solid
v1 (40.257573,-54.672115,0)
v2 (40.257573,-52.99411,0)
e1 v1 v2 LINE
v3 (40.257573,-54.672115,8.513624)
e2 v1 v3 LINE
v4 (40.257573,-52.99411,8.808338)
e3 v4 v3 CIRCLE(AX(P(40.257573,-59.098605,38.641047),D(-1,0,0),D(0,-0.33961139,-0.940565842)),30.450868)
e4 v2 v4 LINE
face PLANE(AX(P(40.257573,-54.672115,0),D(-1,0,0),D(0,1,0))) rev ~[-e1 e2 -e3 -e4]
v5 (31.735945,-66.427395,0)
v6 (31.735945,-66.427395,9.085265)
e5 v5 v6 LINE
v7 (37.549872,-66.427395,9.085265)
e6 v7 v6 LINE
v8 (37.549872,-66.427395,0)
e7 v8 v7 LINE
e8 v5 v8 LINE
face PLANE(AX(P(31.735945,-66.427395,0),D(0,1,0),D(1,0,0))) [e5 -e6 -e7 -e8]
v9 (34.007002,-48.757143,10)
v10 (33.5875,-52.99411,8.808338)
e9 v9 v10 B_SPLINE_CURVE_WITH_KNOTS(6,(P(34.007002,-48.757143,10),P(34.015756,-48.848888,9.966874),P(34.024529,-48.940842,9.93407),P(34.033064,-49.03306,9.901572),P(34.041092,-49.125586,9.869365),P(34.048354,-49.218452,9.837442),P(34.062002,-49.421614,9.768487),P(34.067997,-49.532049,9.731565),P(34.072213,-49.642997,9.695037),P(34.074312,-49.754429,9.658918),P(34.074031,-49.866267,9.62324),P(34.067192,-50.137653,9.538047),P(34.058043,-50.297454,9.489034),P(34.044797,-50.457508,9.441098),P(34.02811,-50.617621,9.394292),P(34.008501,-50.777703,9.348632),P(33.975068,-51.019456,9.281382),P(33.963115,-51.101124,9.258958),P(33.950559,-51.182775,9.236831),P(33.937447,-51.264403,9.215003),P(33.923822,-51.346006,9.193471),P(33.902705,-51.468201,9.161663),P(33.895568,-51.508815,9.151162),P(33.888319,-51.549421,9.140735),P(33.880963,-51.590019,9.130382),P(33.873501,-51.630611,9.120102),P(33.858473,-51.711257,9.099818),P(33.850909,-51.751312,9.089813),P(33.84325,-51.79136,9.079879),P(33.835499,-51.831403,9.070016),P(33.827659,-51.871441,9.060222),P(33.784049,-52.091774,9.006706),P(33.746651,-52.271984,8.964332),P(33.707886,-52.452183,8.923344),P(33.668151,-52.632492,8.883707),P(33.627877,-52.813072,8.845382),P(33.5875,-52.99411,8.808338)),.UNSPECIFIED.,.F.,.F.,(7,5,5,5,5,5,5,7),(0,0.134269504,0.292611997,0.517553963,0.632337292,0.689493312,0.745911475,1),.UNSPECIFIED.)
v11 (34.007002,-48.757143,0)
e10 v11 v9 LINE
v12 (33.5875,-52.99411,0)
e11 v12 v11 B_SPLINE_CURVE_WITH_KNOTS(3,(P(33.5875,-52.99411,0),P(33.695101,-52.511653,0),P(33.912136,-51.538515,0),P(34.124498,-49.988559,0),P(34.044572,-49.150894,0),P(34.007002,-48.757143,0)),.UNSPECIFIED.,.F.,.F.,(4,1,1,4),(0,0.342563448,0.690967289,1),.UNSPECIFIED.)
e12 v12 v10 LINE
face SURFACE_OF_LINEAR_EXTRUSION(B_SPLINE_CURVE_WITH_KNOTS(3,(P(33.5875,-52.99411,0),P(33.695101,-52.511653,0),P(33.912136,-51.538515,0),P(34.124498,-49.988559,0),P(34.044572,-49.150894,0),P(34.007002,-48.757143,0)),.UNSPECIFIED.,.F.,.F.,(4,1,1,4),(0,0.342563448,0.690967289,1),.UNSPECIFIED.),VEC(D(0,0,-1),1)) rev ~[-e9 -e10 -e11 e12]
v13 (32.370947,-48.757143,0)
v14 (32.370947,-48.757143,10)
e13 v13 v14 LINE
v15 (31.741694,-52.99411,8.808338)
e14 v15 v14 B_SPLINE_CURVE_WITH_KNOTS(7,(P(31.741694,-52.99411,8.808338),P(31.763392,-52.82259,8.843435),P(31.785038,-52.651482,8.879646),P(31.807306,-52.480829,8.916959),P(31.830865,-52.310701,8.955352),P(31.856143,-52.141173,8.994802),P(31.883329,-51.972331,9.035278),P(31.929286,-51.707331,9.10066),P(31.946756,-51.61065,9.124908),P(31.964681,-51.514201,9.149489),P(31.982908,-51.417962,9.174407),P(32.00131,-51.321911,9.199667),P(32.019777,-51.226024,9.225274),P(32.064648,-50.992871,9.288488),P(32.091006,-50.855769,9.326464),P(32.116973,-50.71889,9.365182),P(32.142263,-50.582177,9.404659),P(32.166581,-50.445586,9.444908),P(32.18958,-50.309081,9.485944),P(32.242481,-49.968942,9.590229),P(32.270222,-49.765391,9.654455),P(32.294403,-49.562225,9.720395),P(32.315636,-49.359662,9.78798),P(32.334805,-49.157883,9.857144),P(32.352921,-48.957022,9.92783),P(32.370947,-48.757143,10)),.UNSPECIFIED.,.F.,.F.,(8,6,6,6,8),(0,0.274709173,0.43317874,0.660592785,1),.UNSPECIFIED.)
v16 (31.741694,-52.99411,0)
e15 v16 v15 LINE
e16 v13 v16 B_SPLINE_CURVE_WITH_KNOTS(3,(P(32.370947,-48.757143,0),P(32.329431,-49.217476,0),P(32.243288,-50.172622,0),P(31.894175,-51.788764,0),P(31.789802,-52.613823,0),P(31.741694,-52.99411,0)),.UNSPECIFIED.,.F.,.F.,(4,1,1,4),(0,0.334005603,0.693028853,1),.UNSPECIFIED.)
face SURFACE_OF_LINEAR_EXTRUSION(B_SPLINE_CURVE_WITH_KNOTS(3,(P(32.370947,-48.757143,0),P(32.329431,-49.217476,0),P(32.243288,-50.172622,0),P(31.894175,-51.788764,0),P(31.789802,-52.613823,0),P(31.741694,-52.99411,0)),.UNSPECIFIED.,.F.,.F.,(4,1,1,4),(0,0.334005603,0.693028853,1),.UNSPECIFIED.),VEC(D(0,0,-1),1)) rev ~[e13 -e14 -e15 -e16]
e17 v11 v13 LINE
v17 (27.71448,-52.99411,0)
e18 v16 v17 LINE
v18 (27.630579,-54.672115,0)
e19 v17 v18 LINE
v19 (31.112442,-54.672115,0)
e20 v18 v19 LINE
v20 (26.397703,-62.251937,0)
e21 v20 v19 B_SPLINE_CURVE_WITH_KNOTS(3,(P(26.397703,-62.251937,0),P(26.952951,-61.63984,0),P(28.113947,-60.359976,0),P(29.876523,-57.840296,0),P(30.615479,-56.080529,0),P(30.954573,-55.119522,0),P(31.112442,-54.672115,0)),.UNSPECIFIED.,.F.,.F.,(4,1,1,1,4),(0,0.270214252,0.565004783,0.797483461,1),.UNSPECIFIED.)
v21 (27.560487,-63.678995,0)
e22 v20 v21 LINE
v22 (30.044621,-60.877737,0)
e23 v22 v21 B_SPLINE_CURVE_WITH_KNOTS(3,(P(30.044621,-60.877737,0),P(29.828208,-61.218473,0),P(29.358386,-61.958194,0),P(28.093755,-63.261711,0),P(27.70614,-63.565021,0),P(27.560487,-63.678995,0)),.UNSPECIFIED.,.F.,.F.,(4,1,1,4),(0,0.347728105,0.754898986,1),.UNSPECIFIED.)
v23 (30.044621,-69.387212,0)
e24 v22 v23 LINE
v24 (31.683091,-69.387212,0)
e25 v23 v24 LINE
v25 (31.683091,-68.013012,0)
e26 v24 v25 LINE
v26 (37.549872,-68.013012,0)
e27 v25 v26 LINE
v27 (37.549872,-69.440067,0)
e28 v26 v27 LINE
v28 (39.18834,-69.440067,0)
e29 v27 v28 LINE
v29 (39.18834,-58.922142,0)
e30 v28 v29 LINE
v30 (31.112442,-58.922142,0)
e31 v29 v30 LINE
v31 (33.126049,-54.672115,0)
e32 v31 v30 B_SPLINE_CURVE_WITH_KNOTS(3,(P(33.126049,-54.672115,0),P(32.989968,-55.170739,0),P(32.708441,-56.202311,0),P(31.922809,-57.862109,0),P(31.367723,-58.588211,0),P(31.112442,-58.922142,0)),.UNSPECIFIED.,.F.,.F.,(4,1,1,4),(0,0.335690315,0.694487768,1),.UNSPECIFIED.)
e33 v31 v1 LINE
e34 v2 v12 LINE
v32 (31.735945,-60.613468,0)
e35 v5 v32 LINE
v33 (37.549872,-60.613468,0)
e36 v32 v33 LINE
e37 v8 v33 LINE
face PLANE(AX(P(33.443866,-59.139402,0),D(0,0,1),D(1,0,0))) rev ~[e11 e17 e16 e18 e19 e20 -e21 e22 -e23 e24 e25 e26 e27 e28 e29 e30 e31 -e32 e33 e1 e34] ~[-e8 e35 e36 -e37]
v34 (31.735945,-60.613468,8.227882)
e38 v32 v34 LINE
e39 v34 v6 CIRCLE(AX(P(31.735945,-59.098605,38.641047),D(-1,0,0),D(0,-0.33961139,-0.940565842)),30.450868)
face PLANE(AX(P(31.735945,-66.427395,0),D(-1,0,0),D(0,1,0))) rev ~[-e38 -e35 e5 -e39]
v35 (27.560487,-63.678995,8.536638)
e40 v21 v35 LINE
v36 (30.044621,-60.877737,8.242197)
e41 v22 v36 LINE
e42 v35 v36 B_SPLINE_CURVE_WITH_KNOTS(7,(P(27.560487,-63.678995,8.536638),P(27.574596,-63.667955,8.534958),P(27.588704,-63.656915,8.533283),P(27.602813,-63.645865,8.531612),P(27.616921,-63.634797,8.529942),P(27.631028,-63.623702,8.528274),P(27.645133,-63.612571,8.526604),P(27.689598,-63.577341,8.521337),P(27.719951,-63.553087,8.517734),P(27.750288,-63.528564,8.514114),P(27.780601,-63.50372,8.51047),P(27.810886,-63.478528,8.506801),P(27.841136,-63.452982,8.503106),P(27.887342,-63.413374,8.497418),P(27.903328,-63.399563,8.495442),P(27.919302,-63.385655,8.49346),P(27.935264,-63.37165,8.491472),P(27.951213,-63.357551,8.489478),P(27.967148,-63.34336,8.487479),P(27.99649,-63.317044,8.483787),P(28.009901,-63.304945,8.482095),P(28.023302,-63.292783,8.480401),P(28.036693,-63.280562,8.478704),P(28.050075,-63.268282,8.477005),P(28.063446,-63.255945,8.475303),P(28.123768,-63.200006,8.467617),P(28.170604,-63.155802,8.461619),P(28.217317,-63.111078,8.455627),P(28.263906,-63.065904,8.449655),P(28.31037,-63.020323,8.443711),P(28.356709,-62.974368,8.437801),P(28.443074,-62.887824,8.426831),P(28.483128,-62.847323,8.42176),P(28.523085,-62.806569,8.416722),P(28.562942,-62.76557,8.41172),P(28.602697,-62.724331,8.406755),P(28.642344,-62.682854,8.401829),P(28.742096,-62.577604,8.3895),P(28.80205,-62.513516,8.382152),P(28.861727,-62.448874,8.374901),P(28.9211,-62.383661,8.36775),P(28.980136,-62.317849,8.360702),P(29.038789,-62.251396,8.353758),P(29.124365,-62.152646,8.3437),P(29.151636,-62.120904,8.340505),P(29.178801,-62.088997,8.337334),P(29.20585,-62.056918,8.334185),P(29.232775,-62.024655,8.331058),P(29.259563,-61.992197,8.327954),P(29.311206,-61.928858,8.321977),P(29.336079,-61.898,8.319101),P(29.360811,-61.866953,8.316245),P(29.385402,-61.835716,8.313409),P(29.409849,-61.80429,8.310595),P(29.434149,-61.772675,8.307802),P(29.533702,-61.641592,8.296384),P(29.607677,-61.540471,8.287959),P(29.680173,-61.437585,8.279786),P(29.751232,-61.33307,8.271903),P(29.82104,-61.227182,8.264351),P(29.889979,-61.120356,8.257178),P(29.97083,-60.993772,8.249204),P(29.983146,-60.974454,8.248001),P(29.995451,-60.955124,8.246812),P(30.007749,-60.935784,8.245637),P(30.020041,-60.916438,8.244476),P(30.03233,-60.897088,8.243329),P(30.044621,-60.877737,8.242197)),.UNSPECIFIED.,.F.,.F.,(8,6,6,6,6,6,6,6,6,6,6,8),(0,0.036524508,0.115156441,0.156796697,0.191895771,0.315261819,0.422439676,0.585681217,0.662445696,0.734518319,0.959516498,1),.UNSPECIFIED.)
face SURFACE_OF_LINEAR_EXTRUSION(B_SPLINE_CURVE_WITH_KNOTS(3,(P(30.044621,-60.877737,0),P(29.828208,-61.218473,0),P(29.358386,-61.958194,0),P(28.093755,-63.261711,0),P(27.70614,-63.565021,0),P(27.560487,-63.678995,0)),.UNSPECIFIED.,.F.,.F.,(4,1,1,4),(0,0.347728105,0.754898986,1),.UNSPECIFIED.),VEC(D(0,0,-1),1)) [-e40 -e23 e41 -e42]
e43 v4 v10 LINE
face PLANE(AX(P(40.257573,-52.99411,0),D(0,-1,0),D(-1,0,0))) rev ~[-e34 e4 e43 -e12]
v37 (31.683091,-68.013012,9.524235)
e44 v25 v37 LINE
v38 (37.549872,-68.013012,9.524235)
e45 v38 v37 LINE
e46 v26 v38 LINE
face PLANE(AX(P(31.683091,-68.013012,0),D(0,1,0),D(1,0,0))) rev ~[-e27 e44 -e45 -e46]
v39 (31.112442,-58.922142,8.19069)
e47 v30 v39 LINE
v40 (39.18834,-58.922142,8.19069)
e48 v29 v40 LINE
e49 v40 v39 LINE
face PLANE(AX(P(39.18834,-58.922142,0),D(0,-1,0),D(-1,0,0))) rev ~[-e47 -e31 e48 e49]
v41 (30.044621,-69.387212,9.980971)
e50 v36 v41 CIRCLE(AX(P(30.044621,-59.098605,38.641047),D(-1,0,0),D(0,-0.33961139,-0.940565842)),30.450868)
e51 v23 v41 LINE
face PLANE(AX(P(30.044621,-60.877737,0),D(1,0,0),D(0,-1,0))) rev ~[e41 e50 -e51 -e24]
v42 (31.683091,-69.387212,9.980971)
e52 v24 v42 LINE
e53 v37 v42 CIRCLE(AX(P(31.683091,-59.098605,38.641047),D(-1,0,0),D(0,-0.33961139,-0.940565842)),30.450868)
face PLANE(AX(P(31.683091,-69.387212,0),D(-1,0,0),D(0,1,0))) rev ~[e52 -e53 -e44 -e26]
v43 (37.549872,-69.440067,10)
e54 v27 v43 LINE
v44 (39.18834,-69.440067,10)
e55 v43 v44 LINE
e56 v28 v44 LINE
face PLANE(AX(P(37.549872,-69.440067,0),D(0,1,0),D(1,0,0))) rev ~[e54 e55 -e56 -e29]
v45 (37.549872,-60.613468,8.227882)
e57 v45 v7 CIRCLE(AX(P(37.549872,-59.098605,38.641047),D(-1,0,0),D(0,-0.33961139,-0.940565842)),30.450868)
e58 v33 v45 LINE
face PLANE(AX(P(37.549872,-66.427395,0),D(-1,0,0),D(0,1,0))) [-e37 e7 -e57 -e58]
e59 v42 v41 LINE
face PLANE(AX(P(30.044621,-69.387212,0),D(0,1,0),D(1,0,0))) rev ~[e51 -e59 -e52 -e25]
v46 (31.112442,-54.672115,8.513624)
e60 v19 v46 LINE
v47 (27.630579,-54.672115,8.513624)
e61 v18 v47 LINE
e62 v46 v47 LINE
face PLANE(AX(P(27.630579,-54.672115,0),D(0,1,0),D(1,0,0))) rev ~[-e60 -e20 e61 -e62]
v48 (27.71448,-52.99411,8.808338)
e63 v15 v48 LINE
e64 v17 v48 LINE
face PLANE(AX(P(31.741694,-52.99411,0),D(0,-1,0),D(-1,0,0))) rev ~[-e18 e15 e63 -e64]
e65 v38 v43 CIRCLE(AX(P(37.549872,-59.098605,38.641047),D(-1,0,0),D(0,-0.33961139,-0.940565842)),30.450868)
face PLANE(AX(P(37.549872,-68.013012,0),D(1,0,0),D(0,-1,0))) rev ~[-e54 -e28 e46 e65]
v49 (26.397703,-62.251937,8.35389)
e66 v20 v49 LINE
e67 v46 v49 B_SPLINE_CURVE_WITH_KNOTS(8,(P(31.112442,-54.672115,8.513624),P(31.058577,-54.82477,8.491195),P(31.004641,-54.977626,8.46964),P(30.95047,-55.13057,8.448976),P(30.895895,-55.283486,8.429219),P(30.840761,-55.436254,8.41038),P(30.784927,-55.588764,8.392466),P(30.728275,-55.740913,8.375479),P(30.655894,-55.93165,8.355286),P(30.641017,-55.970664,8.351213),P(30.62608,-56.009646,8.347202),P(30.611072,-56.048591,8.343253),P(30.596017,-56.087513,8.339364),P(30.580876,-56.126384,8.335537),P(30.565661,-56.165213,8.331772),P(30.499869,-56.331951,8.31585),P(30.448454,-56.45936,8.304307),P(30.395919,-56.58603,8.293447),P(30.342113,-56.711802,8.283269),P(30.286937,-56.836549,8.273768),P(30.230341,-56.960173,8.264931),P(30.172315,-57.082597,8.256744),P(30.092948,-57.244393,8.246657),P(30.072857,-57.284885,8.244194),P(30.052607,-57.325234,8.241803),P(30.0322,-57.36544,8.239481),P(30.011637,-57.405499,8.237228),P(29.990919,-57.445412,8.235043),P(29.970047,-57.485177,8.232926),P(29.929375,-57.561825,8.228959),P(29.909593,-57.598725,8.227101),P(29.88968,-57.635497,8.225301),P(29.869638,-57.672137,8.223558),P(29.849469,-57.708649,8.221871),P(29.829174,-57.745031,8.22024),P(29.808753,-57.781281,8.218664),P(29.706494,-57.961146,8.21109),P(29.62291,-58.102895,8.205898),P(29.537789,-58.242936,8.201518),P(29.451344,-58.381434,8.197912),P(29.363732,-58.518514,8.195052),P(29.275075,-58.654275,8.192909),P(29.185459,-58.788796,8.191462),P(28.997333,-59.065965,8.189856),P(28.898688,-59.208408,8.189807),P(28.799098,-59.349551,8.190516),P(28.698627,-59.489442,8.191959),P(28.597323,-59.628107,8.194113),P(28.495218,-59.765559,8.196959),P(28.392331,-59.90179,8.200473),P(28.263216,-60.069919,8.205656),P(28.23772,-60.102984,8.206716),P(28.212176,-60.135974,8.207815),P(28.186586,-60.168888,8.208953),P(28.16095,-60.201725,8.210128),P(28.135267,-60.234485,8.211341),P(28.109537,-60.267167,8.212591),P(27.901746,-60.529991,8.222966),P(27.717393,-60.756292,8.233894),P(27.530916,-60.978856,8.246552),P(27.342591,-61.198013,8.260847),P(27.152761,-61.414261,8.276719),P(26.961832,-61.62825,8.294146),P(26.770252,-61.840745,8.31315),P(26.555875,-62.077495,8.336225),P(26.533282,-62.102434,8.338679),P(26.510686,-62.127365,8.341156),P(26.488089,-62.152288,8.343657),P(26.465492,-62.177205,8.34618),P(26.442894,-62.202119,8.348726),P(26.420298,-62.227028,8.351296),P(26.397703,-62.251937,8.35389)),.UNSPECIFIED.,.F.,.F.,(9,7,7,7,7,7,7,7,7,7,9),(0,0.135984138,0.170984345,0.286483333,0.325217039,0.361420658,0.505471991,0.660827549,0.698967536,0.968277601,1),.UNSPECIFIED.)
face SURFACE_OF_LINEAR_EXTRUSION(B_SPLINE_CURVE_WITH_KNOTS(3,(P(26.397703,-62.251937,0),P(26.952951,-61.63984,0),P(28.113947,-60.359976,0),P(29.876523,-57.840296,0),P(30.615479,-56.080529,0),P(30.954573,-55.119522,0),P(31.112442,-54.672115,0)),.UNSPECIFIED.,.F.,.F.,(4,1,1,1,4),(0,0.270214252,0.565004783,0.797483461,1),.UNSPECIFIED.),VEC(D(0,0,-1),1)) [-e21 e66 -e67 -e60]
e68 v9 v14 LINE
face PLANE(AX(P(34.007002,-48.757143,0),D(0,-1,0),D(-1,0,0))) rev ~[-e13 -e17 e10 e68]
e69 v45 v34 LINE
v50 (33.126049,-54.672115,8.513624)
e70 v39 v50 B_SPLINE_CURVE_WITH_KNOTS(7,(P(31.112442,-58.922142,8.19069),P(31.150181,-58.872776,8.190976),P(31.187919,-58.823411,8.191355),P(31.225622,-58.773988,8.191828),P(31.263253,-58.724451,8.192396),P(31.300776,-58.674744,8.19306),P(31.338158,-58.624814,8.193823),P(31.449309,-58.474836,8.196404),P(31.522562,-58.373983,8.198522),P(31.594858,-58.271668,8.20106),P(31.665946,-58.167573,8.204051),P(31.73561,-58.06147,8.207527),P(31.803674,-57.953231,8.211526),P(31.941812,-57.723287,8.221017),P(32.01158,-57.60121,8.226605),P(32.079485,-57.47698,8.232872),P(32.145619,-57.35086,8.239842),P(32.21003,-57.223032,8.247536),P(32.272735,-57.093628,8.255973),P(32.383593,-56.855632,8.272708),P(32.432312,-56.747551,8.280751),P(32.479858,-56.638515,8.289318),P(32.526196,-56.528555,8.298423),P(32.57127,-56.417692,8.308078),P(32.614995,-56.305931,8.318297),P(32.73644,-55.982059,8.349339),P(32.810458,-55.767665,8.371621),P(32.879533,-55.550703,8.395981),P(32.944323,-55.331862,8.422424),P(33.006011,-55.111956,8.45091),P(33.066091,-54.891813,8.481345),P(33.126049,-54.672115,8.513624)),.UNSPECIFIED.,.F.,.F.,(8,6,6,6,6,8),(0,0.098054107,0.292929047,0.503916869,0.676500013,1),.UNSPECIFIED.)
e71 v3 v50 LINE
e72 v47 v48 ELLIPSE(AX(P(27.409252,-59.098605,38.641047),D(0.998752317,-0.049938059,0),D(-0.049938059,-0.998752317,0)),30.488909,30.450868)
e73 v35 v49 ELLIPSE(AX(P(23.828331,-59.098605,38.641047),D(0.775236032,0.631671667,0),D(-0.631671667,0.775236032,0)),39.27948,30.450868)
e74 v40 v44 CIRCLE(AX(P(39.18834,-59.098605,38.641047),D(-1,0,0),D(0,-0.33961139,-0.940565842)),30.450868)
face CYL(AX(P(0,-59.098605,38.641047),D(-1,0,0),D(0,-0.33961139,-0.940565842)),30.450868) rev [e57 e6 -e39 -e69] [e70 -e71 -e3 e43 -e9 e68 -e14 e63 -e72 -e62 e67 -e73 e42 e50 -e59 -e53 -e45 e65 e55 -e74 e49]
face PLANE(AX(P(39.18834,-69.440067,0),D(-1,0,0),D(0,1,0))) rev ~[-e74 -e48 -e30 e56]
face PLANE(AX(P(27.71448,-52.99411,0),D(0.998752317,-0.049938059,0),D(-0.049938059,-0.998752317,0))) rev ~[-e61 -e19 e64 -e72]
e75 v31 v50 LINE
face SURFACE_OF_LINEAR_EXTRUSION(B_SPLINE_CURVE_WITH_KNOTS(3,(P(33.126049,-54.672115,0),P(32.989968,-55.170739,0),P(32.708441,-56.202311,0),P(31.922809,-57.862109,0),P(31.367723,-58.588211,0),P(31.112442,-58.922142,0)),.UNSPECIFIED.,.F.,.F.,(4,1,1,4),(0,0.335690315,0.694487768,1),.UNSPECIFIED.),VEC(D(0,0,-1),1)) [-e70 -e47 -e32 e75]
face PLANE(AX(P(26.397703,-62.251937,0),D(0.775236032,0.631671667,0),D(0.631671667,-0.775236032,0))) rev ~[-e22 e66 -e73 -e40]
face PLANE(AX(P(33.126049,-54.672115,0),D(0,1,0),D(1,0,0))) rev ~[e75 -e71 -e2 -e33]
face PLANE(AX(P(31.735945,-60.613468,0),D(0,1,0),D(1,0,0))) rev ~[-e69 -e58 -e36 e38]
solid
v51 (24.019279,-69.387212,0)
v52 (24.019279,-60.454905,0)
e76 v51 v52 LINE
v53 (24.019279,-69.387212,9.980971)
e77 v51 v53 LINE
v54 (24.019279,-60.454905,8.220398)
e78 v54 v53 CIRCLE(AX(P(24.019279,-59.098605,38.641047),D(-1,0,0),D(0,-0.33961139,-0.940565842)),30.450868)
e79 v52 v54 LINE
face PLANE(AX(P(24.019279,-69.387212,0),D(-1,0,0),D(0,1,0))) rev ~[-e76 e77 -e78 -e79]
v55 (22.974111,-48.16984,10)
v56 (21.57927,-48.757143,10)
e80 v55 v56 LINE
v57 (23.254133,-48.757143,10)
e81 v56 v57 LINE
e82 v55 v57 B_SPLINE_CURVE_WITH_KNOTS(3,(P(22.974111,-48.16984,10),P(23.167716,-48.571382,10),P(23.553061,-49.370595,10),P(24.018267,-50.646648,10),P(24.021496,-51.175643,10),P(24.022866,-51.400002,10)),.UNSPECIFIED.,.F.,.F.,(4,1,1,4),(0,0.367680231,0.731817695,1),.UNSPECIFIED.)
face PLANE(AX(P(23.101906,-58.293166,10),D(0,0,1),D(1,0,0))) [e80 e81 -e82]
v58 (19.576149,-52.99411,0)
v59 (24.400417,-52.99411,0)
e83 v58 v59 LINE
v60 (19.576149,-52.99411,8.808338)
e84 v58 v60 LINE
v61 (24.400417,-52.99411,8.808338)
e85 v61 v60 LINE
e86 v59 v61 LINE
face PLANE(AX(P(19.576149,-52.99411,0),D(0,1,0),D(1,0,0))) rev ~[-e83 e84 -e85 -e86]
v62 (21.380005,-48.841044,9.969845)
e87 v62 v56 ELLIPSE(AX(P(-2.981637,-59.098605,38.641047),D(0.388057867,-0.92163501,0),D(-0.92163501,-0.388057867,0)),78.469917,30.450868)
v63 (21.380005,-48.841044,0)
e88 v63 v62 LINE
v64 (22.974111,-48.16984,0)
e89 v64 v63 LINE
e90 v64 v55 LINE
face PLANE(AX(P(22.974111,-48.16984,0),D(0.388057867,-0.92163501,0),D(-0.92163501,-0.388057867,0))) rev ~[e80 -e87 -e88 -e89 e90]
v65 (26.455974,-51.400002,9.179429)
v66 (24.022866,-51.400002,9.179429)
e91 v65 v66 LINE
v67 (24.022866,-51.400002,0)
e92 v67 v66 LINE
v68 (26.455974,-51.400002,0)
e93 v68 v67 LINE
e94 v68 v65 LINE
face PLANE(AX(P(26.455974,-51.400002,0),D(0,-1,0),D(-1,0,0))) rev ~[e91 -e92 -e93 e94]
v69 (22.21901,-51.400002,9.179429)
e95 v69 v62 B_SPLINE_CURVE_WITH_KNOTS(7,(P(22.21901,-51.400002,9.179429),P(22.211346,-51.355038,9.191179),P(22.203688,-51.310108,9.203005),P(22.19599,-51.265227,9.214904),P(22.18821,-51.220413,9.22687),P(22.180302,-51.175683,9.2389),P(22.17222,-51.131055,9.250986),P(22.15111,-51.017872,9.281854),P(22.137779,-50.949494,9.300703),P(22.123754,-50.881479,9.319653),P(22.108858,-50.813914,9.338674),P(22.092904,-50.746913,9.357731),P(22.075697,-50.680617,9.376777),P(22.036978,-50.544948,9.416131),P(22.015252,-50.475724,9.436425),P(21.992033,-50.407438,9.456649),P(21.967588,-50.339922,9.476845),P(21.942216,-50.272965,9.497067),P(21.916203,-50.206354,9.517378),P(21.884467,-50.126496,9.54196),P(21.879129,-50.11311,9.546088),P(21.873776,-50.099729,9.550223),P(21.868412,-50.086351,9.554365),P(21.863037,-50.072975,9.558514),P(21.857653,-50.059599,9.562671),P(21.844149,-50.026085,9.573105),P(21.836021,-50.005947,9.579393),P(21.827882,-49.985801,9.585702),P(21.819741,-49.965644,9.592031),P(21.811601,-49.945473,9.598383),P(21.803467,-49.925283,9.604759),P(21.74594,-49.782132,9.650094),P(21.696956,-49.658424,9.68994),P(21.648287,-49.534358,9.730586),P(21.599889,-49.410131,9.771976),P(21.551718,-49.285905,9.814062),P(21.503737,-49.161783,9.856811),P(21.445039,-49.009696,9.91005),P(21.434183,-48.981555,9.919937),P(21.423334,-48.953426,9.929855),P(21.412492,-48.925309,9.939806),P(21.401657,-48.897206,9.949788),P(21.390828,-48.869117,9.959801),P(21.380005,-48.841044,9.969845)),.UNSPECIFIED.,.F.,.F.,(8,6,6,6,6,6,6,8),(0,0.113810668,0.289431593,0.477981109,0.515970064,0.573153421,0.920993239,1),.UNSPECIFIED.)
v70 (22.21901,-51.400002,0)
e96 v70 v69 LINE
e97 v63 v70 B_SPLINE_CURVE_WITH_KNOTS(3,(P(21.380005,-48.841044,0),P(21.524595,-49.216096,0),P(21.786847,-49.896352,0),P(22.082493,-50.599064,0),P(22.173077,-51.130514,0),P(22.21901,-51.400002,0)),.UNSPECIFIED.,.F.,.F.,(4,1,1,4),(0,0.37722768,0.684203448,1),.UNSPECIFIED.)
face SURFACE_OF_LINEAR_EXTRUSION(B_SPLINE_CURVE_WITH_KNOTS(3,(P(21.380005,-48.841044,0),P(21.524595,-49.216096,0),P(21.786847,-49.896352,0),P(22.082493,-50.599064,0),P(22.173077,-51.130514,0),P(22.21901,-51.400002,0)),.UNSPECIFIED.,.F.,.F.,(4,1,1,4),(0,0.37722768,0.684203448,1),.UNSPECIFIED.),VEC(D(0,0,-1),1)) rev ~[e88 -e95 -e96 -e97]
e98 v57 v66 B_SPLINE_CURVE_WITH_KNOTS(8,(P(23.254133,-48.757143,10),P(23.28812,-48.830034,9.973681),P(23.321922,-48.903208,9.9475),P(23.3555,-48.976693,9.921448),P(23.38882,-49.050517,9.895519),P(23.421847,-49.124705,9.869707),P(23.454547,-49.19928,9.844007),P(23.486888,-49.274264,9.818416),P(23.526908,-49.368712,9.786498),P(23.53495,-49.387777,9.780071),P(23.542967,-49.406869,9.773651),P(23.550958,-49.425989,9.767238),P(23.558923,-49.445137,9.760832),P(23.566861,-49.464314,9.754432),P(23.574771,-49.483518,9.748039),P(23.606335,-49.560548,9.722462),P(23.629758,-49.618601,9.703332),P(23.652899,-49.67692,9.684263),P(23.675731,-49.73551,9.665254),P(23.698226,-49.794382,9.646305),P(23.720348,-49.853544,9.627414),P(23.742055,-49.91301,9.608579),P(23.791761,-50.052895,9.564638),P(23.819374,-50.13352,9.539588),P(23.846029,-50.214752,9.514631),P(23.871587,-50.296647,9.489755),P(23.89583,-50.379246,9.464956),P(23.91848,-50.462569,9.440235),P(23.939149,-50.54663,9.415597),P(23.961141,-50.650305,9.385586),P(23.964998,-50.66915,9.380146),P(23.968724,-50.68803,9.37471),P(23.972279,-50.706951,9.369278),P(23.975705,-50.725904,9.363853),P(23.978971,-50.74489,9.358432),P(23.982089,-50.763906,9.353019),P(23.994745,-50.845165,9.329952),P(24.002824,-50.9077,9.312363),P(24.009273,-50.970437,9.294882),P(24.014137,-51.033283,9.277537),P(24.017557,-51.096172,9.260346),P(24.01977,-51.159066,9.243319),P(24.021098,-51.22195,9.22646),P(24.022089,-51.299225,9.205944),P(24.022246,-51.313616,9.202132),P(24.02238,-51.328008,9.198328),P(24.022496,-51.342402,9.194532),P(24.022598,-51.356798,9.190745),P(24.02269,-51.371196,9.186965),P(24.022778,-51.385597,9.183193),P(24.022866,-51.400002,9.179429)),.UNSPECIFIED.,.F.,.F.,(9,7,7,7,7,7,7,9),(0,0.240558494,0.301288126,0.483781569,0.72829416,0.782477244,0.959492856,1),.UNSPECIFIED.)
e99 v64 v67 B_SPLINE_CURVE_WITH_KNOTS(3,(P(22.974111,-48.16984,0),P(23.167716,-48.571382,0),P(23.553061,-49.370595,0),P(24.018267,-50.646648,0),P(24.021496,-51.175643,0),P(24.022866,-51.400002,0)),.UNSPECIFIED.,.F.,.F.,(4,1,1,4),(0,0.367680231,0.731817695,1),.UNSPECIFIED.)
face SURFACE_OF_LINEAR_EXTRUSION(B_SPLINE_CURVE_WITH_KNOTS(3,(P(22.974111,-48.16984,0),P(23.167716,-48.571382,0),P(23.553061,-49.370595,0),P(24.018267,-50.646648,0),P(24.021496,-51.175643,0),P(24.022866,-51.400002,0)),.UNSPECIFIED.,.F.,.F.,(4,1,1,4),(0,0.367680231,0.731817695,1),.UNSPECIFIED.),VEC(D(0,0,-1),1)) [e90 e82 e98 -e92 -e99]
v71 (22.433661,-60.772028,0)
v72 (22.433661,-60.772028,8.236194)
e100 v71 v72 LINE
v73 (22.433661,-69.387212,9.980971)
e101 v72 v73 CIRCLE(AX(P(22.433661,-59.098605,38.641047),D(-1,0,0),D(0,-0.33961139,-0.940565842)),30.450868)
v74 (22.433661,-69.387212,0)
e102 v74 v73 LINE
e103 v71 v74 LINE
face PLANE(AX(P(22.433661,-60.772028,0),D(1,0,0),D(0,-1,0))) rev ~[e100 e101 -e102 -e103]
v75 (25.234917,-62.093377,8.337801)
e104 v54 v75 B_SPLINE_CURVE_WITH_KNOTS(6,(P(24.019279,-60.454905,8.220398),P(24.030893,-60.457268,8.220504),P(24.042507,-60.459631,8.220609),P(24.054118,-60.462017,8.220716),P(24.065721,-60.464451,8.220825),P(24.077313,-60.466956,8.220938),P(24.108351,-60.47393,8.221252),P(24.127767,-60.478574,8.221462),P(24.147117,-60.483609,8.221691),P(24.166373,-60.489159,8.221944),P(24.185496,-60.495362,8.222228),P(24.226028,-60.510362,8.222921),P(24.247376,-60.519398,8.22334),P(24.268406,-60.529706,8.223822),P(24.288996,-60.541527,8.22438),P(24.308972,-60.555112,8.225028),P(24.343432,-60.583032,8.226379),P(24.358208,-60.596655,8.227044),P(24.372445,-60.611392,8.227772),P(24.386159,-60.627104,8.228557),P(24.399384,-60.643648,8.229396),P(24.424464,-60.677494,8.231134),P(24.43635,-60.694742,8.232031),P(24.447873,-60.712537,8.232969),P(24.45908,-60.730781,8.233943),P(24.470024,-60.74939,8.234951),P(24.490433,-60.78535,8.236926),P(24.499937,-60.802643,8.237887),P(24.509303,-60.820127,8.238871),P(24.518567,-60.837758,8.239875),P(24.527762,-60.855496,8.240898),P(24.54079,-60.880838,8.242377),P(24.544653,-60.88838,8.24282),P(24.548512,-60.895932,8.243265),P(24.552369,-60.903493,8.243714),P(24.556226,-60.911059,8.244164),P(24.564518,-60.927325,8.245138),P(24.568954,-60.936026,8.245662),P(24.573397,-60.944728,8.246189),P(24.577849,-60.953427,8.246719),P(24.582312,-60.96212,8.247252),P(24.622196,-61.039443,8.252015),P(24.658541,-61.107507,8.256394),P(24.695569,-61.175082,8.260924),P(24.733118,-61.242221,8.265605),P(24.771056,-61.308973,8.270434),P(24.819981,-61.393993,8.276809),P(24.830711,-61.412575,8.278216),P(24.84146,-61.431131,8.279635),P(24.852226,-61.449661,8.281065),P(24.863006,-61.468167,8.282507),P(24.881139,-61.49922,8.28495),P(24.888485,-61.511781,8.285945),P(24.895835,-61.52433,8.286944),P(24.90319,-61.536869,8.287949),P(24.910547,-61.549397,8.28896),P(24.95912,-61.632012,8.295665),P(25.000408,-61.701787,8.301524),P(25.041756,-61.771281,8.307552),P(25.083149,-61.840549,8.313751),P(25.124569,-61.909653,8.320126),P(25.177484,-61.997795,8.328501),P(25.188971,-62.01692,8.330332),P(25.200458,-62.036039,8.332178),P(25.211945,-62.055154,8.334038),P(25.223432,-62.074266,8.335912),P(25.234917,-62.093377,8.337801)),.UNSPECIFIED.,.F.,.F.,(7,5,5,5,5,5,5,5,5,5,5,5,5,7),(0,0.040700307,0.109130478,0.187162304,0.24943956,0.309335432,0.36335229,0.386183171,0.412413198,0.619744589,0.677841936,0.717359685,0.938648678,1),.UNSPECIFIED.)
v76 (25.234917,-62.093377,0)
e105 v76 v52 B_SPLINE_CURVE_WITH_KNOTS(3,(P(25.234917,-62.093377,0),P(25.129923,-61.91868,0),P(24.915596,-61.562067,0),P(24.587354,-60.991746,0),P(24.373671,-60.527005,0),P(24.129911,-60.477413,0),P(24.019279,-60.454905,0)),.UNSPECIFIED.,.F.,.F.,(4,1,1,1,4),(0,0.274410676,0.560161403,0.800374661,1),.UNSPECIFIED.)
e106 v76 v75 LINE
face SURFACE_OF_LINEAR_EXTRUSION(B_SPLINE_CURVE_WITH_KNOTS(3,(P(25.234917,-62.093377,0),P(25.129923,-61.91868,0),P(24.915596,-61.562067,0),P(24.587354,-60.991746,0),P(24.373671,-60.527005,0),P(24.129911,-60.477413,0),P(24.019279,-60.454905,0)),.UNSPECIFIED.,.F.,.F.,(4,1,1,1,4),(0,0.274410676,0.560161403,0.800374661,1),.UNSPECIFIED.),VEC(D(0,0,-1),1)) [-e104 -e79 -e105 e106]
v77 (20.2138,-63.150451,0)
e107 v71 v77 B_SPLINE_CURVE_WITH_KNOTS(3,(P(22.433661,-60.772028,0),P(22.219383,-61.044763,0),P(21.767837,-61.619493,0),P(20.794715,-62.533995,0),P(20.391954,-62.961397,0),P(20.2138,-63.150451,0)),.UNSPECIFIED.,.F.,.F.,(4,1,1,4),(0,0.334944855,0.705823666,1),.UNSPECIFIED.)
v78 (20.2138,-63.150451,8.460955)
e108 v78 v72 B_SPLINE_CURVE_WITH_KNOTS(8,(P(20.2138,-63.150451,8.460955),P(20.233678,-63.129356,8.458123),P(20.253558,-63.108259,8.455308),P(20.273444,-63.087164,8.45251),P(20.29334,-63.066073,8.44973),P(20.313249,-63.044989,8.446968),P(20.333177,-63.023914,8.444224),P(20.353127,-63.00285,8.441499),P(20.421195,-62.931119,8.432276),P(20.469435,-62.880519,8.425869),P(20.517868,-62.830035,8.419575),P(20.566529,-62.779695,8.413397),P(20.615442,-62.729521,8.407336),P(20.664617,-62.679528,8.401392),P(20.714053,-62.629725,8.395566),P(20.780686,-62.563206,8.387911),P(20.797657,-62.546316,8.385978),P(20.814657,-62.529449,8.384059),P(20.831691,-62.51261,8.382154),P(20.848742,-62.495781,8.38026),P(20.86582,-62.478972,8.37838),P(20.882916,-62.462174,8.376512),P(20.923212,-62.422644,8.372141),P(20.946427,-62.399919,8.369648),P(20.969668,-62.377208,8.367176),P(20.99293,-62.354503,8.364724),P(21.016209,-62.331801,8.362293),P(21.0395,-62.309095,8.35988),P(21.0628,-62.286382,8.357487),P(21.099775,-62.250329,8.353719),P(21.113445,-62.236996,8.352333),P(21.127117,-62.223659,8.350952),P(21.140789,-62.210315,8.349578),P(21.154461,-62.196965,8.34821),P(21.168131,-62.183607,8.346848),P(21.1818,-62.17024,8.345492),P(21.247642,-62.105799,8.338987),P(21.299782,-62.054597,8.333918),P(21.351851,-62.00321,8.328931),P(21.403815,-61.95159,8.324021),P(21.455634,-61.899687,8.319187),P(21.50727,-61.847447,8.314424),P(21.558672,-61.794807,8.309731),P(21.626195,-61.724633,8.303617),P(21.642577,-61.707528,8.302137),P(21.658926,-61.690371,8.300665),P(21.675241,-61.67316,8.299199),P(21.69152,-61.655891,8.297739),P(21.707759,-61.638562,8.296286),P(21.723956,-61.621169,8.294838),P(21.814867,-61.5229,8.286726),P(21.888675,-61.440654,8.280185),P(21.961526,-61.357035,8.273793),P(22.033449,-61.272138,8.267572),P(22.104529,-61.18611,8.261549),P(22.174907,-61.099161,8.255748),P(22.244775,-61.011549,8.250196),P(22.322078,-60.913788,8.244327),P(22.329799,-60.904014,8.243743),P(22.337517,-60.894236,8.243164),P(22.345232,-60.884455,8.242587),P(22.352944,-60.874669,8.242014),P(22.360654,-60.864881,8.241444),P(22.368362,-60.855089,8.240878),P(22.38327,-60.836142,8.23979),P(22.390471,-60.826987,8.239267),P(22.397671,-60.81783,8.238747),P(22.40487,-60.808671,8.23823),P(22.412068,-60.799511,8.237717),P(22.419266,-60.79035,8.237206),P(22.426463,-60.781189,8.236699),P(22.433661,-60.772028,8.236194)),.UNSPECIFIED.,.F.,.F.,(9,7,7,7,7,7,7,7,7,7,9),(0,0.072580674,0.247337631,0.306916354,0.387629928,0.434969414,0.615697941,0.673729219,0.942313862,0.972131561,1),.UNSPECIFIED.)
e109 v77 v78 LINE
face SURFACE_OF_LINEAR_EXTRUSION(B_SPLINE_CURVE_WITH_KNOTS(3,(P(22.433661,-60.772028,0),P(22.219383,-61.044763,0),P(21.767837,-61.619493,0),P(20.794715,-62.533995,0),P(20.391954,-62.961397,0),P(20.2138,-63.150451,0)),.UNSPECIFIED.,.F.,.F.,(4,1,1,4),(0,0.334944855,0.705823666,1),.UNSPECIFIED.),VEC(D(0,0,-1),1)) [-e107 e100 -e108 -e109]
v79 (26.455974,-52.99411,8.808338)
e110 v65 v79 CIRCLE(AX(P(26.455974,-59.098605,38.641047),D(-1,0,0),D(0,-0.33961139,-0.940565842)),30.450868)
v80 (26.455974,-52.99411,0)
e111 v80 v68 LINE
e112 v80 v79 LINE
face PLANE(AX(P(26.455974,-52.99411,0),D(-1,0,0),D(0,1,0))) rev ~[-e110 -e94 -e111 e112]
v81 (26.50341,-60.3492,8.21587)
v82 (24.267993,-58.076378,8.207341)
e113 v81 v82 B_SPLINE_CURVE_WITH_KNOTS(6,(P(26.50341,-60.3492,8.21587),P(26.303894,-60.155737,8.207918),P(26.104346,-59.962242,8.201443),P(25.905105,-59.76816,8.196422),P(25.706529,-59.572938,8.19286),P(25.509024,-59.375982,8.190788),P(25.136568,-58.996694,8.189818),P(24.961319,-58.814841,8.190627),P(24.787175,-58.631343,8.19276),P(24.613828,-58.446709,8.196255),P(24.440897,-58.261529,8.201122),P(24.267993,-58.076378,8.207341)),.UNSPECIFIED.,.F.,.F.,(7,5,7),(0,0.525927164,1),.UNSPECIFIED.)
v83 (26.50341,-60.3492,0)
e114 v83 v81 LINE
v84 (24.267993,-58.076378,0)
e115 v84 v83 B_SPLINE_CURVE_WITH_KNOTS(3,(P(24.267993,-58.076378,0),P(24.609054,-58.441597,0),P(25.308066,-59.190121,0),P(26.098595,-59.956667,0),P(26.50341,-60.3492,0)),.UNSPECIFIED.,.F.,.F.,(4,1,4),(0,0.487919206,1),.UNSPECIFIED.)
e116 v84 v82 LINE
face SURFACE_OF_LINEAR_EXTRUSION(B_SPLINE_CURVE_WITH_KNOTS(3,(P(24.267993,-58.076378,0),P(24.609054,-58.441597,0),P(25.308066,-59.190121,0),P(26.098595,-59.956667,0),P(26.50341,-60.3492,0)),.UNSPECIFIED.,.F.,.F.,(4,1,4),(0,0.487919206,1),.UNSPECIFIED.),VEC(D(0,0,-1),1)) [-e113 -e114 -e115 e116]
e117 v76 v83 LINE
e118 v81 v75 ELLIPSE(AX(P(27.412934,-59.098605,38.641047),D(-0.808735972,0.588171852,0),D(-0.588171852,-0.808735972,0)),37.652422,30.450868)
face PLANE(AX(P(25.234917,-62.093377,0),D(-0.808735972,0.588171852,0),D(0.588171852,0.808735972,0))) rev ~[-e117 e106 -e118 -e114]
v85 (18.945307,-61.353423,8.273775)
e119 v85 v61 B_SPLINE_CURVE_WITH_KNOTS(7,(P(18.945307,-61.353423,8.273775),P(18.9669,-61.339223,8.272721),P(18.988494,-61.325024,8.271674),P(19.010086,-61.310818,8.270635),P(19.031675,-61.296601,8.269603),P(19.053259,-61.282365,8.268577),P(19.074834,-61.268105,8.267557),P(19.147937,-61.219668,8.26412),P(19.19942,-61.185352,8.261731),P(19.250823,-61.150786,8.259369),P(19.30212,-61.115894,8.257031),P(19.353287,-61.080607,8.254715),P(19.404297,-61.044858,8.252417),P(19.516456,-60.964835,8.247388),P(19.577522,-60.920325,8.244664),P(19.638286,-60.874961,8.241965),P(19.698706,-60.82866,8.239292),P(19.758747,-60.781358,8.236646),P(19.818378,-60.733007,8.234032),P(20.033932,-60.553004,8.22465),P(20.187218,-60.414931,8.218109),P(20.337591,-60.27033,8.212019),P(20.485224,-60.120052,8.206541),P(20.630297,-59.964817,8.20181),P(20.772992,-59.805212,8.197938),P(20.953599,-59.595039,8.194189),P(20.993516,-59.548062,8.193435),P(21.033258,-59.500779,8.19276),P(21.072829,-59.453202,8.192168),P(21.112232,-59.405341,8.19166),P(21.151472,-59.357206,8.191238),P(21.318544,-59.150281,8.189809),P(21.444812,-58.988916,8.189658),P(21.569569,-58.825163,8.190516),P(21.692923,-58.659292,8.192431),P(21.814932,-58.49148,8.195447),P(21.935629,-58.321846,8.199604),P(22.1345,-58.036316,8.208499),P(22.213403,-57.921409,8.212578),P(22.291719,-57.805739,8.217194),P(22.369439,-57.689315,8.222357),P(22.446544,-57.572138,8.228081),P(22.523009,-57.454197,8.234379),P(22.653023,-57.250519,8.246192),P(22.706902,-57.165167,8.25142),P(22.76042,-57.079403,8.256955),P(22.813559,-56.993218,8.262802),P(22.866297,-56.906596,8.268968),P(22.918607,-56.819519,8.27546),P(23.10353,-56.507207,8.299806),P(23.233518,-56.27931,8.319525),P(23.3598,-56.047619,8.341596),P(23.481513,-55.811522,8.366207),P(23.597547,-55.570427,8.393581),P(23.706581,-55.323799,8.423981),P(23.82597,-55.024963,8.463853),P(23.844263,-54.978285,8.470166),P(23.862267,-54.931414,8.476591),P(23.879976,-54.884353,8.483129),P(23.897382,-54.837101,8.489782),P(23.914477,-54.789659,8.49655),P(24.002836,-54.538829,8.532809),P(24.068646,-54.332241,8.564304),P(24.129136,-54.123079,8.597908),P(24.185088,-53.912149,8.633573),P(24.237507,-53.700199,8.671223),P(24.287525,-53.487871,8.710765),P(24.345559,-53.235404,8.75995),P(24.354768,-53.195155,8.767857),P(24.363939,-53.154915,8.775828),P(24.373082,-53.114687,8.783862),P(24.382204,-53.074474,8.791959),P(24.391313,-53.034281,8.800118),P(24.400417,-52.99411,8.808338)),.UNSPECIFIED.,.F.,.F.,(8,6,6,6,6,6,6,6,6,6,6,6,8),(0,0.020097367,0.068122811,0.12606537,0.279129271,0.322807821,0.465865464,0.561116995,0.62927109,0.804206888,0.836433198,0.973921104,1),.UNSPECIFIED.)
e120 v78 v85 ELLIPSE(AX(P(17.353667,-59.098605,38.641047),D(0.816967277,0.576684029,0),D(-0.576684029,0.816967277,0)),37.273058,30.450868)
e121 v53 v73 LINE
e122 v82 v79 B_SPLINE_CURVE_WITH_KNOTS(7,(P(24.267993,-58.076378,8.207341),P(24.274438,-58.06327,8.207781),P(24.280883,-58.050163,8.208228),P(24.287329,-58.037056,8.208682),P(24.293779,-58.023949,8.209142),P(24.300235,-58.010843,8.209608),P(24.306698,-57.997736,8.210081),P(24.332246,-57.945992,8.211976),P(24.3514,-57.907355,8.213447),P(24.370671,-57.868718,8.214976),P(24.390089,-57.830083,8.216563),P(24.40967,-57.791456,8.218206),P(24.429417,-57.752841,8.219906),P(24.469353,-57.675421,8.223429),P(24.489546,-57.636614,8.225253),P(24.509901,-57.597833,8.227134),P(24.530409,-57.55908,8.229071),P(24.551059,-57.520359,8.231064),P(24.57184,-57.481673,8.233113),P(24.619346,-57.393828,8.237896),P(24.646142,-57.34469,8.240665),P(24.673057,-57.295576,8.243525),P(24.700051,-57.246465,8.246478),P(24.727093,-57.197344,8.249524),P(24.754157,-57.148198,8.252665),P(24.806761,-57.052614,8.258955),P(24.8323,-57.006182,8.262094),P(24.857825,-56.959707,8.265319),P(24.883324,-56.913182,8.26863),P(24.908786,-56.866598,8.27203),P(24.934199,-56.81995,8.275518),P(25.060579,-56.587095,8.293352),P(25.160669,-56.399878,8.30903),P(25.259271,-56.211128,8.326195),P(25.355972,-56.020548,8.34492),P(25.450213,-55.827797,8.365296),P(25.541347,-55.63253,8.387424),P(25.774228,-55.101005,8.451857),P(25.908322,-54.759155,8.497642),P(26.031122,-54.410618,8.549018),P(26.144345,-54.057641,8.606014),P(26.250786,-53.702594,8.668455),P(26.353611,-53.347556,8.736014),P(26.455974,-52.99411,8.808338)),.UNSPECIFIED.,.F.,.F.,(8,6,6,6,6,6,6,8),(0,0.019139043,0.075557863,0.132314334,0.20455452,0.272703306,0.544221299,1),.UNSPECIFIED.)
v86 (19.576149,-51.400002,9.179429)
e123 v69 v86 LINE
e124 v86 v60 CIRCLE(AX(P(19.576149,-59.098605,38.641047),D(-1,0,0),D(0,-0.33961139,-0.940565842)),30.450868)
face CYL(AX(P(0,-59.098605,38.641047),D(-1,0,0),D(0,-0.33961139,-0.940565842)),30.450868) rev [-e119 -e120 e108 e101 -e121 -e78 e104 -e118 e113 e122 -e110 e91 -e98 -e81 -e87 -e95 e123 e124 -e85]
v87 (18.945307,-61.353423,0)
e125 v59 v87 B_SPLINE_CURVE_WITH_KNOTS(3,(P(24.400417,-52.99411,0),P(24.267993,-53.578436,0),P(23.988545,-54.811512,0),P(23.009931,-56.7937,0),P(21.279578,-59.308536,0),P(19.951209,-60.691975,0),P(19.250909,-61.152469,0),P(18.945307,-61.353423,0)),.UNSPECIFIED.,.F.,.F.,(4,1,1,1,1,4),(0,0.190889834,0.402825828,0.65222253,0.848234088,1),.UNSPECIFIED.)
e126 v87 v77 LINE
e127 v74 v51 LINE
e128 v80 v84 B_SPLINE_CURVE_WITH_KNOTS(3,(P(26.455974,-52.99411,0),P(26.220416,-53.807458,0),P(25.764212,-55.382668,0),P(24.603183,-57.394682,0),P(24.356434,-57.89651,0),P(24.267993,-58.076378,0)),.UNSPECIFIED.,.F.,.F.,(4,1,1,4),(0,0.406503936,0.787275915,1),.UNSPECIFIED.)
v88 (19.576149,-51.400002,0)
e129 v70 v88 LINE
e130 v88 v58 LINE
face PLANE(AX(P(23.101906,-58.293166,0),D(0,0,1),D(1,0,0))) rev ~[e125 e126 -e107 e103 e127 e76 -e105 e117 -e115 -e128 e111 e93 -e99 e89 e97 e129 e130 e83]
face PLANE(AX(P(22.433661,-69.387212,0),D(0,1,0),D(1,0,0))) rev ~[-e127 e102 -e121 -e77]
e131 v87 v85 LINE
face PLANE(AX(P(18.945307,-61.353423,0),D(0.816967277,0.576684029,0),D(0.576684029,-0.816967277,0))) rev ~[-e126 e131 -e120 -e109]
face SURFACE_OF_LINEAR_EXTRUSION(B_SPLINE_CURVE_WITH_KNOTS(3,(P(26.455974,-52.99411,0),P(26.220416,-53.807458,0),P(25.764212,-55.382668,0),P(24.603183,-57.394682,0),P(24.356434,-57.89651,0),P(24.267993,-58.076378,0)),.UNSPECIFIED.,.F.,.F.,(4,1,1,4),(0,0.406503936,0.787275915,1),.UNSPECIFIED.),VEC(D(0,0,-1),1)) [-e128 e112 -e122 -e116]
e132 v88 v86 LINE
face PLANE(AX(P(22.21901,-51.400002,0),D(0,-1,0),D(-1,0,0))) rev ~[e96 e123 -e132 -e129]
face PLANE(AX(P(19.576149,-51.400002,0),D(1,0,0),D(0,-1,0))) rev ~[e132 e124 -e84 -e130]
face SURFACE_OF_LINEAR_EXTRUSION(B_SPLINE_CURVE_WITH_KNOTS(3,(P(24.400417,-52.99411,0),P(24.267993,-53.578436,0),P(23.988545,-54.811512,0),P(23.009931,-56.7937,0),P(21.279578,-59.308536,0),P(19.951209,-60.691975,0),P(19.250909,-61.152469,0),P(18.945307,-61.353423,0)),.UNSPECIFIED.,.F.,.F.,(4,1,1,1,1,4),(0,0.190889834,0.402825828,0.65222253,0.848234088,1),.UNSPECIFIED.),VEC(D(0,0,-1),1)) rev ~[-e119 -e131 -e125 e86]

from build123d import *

# Parameters (mm, degrees)
F1_DEPTH = 10
F0_W     = 5.8139264584
F0_H     = 5.8139264584
F3_DEPTH = 200


with BuildPart() as f1:
    # F0 (on Top) → F1 (new body)
    with BuildSketch(Plane.XY):
        with BuildLine():
            Line((22.9741111398, -48.1698401272), (21.3800054044, -48.8410443068))
            add(Edge.make_bspline(
                [(21.3800054044, -48.8410443068), (21.524594907, -49.2160956774), (21.7868467024, -49.8963518062), (22.0824932893, -50.5990640789), (22.1730765622, -51.1305136503), (22.2190096974, -51.4000020921)],
                knots=[0, 0, 0, 0, 0.3772276795, 0.6842034479, 1, 1, 1, 1], degree=3))
            Line((22.2190096974, -51.4000020921), (19.5761490613, -51.4000020921))
            Line((19.5761490613, -51.4000020921), (19.5761490613, -52.9941096902))
            Line((19.5761490613, -52.9941096902), (24.4004167616, -52.9941096902))
            add(Edge.make_bspline(
                [(24.4004167616, -52.9941096902), (24.2679929093, -53.5784359754), (23.98854509, -54.8115122168), (23.0099309061, -56.7937003015), (21.2795782257, -59.3085357977), (19.9512093339, -60.6919749864), (19.2509091372, -61.1524687513), (18.9453065395, -61.3534227014)],
                knots=[0, 0, 0, 0, 0.1908898343, 0.4028258276, 0.6522225297, 0.8482340876, 1, 1, 1, 1], degree=3))
            Line((18.9453065395, -61.3534227014), (20.2137995511, -63.1504505873))
            add(Edge.make_bspline(
                [(22.4336609244, -60.7720278203), (22.2193825413, -61.0447629972), (21.7678373045, -61.6194932534), (20.7947152937, -62.5339951909), (20.391954321, -62.9613965451), (20.2137995511, -63.1504505873)],
                knots=[0, 0, 0, 0, 0.3349448552, 0.7058236663, 1, 1, 1, 1], degree=3))
            Line((22.4336609244, -60.7720278203), (22.4336609244, -69.3872123957))
            Line((22.4336609244, -69.3872123957), (24.0192785859, -69.3872123957))
            Line((24.0192785859, -69.3872123957), (24.0192785859, -60.4549050331))
            add(Edge.make_bspline(
                [(25.2349171788, -62.0933771133), (25.1299231341, -61.9186800346), (24.9155961542, -61.5620665009), (24.5873540863, -60.9917459152), (24.3736706942, -60.5270046564), (24.1299113219, -60.4774128102), (24.0192785859, -60.4549050331)],
                knots=[0, 0, 0, 0, 0.2744106756, 0.5601614031, 0.800374661, 1, 1, 1, 1], degree=3))
            Line((25.2349171788, -62.0933771133), (26.5034101903, -60.3491999209))
            add(Edge.make_bspline(
                [(24.2679929093, -58.0763779581), (24.6090541844, -58.4415971161), (25.3080659698, -59.1901209573), (26.098595302, -59.9566666127), (26.5034101903, -60.3491999209)],
                knots=[0, 0, 0, 0, 0.4879192056, 1, 1, 1, 1], degree=3))
            add(Edge.make_bspline(
                [(26.4559742063, -52.9941096902), (26.2204164278, -53.8074575651), (25.7642118272, -55.3826678796), (24.6031830474, -57.3946817788), (24.3564340323, -57.8965099703), (24.2679929093, -58.0763779581)],
                knots=[0, 0, 0, 0, 0.4065039358, 0.7872759152, 1, 1, 1, 1], degree=3))
            Line((26.4559742063, -52.9941096902), (26.4559742063, -51.4000020921))
            Line((26.4559742063, -51.4000020921), (24.0228660405, -51.4000020921))
            add(Edge.make_bspline(
                [(22.9741111398, -48.1698401272), (23.1677160931, -48.5713815167), (23.5530605276, -49.370595261), (24.0182670501, -50.6466479678), (24.0214963958, -51.1756425361), (24.0228660405, -51.4000020921)],
                knots=[0, 0, 0, 0, 0.367680231, 0.731817695, 1, 1, 1, 1], degree=3))
        make_face()
    extrude(amount=F1_DEPTH)


with BuildPart() as f1b:
    # F0 (on Top) → F1, piece 2 (new body)
    with BuildSketch(Plane.XY):
        with BuildLine():
            Line((31.7416936159, -52.9941096902), (27.7144797146, -52.9941096902))
            Line((27.7144797146, -52.9941096902), (27.6305787265, -54.6721145511))
            Line((27.6305787265, -54.6721145511), (31.1124417931, -54.6721145511))
            add(Edge.make_bspline(
                [(26.3977032155, -62.2519366443), (26.9529510611, -61.6398399962), (28.113947147, -60.3599758448), (29.8765229764, -57.8402958637), (30.6154790091, -56.0805293685), (30.9545730444, -55.119521665), (31.1124417931, -54.6721145511)],
                knots=[0, 0, 0, 0, 0.2702142518, 0.5650047833, 0.7974834606, 1, 1, 1, 1], degree=3))
            Line((26.3977032155, -62.2519366443), (27.5604873896, -63.6789947748))
            add(Edge.make_bspline(
                [(30.0446208566, -60.8777366579), (29.8282077293, -61.218473349), (29.358386486, -61.9581943529), (28.093755143, -63.2617112834), (27.706139733, -63.5650214134), (27.5604873896, -63.6789947748)],
                knots=[0, 0, 0, 0, 0.3477281045, 0.7548989859, 1, 1, 1, 1], degree=3))
            Line((30.0446208566, -60.8777366579), (30.0446208566, -69.3872123957))
            Line((30.0446208566, -69.3872123957), (31.6830910742, -69.3872123957))
            Line((31.6830910742, -69.3872123957), (31.6830910742, -68.0130124092))
            Line((31.6830910742, -68.0130124092), (37.5498719513, -68.0130124092))
            Line((37.5498719513, -68.0130124092), (37.5498719513, -69.4400668144))
            Line((37.5498719513, -69.4400668144), (39.1883403063, -69.4400668144))
            Line((39.1883403063, -69.4400668144), (39.1883403063, -58.9221417904))
            Line((39.1883403063, -58.9221417904), (31.1124417931, -58.9221417904))
            add(Edge.make_bspline(
                [(33.1260487437, -54.6721145511), (32.9899684164, -55.1707391663), (32.7084407151, -56.2023110654), (31.9228094689, -57.8621087911), (31.3677229258, -58.5882113624), (31.1124417931, -58.9221417904)],
                knots=[0, 0, 0, 0, 0.3356903153, 0.6944877678, 1, 1, 1, 1], degree=3))
            Line((33.1260487437, -54.6721145511), (40.2575731277, -54.6721145511))
            Line((40.2575731277, -54.6721145511), (40.2575731277, -52.9941096902))
            Line((40.2575731277, -52.9941096902), (33.587500453, -52.9941096902))
            add(Edge.make_bspline(
                [(33.587500453, -52.9941096902), (33.6951009585, -52.5116532501), (33.9121364598, -51.5385149281), (34.1244981221, -49.9885594753), (34.0445716656, -49.1508939402), (34.0070016682, -48.7571433187)],
                knots=[0, 0, 0, 0, 0.3425634475, 0.6909672891, 1, 1, 1, 1], degree=3))
            Line((34.0070016682, -48.7571433187), (32.3709473014, -48.7571433187))
            add(Edge.make_bspline(
                [(32.3709473014, -48.7571433187), (32.3294307706, -49.2174762774), (32.243288043, -50.1726219968), (31.89417522, -51.7887643764), (31.7898016432, -52.6138226018), (31.7416936159, -52.9941096902)],
                knots=[0, 0, 0, 0, 0.3340056033, 0.6930288528, 1, 1, 1, 1], degree=3))
        make_face()
        with Locations((34.6429087222, -63.5204315186)):
            Rectangle(F0_W, F0_H, mode=Mode.SUBTRACT)
    extrude(amount=F1_DEPTH)


with BuildPart() as f3_tool:
    # F2 (on Right) → F3 (new body)
    with BuildSketch(Plane.YZ):
        with BuildLine():
            Line((-58.9221417904, 10), (-69.4400668144, 10))
            ThreePointArc((-69.4400668144, 10), (-59.0986050665, 8.1901782881), (-48.7571433187, 10))
            add(Edge.make_bspline(
                [(-52.9941096902, 10), (-52.8332908768, 10), (-52.3480926228, 10), (-51.3462425512, 10), (-50.2259894479, 10), (-49.298865578, 10), (-48.8883935258, 10), (-48.7571433187, 10)],
                knots=[0, 0, 0, 0, 0.4824564401, 1.4555947621, 3.0055502149, 3.84321575, 4.2369663715, 4.2369663715, 4.2369663715, 4.2369663715], degree=3))
            Line((-52.9941096902, 10), (-54.6721145511, 10))
            add(Edge.make_bspline(
                [(-54.6721145511, 10), (-54.8383227561, 10), (-55.3483882609, 10), (-56.4117196743, 10), (-57.550877073, 10), (-58.4574873146, 10), (-58.8108316477, 10), (-58.9221417904, 10)],
                knots=[0, 0, 0, 0, 0.4986246152, 1.5301965143, 3.1899942401, 3.9160968113, 4.2500272393, 4.2500272393, 4.2500272393, 4.2500272393], degree=3))
        make_face()
    extrude(amount=F3_DEPTH)


with BuildPart() as f1_1:
    add(f1.part)

    # F3: cut by f3_tool
    add(f3_tool.part, mode=Mode.SUBTRACT)


with BuildPart() as f1b_1:
    add(f1b.part)

    # F3: cut by f3_tool
    add(f3_tool.part, mode=Mode.SUBTRACT)


solid = Compound([f1_1.part, f1b_1.part])
